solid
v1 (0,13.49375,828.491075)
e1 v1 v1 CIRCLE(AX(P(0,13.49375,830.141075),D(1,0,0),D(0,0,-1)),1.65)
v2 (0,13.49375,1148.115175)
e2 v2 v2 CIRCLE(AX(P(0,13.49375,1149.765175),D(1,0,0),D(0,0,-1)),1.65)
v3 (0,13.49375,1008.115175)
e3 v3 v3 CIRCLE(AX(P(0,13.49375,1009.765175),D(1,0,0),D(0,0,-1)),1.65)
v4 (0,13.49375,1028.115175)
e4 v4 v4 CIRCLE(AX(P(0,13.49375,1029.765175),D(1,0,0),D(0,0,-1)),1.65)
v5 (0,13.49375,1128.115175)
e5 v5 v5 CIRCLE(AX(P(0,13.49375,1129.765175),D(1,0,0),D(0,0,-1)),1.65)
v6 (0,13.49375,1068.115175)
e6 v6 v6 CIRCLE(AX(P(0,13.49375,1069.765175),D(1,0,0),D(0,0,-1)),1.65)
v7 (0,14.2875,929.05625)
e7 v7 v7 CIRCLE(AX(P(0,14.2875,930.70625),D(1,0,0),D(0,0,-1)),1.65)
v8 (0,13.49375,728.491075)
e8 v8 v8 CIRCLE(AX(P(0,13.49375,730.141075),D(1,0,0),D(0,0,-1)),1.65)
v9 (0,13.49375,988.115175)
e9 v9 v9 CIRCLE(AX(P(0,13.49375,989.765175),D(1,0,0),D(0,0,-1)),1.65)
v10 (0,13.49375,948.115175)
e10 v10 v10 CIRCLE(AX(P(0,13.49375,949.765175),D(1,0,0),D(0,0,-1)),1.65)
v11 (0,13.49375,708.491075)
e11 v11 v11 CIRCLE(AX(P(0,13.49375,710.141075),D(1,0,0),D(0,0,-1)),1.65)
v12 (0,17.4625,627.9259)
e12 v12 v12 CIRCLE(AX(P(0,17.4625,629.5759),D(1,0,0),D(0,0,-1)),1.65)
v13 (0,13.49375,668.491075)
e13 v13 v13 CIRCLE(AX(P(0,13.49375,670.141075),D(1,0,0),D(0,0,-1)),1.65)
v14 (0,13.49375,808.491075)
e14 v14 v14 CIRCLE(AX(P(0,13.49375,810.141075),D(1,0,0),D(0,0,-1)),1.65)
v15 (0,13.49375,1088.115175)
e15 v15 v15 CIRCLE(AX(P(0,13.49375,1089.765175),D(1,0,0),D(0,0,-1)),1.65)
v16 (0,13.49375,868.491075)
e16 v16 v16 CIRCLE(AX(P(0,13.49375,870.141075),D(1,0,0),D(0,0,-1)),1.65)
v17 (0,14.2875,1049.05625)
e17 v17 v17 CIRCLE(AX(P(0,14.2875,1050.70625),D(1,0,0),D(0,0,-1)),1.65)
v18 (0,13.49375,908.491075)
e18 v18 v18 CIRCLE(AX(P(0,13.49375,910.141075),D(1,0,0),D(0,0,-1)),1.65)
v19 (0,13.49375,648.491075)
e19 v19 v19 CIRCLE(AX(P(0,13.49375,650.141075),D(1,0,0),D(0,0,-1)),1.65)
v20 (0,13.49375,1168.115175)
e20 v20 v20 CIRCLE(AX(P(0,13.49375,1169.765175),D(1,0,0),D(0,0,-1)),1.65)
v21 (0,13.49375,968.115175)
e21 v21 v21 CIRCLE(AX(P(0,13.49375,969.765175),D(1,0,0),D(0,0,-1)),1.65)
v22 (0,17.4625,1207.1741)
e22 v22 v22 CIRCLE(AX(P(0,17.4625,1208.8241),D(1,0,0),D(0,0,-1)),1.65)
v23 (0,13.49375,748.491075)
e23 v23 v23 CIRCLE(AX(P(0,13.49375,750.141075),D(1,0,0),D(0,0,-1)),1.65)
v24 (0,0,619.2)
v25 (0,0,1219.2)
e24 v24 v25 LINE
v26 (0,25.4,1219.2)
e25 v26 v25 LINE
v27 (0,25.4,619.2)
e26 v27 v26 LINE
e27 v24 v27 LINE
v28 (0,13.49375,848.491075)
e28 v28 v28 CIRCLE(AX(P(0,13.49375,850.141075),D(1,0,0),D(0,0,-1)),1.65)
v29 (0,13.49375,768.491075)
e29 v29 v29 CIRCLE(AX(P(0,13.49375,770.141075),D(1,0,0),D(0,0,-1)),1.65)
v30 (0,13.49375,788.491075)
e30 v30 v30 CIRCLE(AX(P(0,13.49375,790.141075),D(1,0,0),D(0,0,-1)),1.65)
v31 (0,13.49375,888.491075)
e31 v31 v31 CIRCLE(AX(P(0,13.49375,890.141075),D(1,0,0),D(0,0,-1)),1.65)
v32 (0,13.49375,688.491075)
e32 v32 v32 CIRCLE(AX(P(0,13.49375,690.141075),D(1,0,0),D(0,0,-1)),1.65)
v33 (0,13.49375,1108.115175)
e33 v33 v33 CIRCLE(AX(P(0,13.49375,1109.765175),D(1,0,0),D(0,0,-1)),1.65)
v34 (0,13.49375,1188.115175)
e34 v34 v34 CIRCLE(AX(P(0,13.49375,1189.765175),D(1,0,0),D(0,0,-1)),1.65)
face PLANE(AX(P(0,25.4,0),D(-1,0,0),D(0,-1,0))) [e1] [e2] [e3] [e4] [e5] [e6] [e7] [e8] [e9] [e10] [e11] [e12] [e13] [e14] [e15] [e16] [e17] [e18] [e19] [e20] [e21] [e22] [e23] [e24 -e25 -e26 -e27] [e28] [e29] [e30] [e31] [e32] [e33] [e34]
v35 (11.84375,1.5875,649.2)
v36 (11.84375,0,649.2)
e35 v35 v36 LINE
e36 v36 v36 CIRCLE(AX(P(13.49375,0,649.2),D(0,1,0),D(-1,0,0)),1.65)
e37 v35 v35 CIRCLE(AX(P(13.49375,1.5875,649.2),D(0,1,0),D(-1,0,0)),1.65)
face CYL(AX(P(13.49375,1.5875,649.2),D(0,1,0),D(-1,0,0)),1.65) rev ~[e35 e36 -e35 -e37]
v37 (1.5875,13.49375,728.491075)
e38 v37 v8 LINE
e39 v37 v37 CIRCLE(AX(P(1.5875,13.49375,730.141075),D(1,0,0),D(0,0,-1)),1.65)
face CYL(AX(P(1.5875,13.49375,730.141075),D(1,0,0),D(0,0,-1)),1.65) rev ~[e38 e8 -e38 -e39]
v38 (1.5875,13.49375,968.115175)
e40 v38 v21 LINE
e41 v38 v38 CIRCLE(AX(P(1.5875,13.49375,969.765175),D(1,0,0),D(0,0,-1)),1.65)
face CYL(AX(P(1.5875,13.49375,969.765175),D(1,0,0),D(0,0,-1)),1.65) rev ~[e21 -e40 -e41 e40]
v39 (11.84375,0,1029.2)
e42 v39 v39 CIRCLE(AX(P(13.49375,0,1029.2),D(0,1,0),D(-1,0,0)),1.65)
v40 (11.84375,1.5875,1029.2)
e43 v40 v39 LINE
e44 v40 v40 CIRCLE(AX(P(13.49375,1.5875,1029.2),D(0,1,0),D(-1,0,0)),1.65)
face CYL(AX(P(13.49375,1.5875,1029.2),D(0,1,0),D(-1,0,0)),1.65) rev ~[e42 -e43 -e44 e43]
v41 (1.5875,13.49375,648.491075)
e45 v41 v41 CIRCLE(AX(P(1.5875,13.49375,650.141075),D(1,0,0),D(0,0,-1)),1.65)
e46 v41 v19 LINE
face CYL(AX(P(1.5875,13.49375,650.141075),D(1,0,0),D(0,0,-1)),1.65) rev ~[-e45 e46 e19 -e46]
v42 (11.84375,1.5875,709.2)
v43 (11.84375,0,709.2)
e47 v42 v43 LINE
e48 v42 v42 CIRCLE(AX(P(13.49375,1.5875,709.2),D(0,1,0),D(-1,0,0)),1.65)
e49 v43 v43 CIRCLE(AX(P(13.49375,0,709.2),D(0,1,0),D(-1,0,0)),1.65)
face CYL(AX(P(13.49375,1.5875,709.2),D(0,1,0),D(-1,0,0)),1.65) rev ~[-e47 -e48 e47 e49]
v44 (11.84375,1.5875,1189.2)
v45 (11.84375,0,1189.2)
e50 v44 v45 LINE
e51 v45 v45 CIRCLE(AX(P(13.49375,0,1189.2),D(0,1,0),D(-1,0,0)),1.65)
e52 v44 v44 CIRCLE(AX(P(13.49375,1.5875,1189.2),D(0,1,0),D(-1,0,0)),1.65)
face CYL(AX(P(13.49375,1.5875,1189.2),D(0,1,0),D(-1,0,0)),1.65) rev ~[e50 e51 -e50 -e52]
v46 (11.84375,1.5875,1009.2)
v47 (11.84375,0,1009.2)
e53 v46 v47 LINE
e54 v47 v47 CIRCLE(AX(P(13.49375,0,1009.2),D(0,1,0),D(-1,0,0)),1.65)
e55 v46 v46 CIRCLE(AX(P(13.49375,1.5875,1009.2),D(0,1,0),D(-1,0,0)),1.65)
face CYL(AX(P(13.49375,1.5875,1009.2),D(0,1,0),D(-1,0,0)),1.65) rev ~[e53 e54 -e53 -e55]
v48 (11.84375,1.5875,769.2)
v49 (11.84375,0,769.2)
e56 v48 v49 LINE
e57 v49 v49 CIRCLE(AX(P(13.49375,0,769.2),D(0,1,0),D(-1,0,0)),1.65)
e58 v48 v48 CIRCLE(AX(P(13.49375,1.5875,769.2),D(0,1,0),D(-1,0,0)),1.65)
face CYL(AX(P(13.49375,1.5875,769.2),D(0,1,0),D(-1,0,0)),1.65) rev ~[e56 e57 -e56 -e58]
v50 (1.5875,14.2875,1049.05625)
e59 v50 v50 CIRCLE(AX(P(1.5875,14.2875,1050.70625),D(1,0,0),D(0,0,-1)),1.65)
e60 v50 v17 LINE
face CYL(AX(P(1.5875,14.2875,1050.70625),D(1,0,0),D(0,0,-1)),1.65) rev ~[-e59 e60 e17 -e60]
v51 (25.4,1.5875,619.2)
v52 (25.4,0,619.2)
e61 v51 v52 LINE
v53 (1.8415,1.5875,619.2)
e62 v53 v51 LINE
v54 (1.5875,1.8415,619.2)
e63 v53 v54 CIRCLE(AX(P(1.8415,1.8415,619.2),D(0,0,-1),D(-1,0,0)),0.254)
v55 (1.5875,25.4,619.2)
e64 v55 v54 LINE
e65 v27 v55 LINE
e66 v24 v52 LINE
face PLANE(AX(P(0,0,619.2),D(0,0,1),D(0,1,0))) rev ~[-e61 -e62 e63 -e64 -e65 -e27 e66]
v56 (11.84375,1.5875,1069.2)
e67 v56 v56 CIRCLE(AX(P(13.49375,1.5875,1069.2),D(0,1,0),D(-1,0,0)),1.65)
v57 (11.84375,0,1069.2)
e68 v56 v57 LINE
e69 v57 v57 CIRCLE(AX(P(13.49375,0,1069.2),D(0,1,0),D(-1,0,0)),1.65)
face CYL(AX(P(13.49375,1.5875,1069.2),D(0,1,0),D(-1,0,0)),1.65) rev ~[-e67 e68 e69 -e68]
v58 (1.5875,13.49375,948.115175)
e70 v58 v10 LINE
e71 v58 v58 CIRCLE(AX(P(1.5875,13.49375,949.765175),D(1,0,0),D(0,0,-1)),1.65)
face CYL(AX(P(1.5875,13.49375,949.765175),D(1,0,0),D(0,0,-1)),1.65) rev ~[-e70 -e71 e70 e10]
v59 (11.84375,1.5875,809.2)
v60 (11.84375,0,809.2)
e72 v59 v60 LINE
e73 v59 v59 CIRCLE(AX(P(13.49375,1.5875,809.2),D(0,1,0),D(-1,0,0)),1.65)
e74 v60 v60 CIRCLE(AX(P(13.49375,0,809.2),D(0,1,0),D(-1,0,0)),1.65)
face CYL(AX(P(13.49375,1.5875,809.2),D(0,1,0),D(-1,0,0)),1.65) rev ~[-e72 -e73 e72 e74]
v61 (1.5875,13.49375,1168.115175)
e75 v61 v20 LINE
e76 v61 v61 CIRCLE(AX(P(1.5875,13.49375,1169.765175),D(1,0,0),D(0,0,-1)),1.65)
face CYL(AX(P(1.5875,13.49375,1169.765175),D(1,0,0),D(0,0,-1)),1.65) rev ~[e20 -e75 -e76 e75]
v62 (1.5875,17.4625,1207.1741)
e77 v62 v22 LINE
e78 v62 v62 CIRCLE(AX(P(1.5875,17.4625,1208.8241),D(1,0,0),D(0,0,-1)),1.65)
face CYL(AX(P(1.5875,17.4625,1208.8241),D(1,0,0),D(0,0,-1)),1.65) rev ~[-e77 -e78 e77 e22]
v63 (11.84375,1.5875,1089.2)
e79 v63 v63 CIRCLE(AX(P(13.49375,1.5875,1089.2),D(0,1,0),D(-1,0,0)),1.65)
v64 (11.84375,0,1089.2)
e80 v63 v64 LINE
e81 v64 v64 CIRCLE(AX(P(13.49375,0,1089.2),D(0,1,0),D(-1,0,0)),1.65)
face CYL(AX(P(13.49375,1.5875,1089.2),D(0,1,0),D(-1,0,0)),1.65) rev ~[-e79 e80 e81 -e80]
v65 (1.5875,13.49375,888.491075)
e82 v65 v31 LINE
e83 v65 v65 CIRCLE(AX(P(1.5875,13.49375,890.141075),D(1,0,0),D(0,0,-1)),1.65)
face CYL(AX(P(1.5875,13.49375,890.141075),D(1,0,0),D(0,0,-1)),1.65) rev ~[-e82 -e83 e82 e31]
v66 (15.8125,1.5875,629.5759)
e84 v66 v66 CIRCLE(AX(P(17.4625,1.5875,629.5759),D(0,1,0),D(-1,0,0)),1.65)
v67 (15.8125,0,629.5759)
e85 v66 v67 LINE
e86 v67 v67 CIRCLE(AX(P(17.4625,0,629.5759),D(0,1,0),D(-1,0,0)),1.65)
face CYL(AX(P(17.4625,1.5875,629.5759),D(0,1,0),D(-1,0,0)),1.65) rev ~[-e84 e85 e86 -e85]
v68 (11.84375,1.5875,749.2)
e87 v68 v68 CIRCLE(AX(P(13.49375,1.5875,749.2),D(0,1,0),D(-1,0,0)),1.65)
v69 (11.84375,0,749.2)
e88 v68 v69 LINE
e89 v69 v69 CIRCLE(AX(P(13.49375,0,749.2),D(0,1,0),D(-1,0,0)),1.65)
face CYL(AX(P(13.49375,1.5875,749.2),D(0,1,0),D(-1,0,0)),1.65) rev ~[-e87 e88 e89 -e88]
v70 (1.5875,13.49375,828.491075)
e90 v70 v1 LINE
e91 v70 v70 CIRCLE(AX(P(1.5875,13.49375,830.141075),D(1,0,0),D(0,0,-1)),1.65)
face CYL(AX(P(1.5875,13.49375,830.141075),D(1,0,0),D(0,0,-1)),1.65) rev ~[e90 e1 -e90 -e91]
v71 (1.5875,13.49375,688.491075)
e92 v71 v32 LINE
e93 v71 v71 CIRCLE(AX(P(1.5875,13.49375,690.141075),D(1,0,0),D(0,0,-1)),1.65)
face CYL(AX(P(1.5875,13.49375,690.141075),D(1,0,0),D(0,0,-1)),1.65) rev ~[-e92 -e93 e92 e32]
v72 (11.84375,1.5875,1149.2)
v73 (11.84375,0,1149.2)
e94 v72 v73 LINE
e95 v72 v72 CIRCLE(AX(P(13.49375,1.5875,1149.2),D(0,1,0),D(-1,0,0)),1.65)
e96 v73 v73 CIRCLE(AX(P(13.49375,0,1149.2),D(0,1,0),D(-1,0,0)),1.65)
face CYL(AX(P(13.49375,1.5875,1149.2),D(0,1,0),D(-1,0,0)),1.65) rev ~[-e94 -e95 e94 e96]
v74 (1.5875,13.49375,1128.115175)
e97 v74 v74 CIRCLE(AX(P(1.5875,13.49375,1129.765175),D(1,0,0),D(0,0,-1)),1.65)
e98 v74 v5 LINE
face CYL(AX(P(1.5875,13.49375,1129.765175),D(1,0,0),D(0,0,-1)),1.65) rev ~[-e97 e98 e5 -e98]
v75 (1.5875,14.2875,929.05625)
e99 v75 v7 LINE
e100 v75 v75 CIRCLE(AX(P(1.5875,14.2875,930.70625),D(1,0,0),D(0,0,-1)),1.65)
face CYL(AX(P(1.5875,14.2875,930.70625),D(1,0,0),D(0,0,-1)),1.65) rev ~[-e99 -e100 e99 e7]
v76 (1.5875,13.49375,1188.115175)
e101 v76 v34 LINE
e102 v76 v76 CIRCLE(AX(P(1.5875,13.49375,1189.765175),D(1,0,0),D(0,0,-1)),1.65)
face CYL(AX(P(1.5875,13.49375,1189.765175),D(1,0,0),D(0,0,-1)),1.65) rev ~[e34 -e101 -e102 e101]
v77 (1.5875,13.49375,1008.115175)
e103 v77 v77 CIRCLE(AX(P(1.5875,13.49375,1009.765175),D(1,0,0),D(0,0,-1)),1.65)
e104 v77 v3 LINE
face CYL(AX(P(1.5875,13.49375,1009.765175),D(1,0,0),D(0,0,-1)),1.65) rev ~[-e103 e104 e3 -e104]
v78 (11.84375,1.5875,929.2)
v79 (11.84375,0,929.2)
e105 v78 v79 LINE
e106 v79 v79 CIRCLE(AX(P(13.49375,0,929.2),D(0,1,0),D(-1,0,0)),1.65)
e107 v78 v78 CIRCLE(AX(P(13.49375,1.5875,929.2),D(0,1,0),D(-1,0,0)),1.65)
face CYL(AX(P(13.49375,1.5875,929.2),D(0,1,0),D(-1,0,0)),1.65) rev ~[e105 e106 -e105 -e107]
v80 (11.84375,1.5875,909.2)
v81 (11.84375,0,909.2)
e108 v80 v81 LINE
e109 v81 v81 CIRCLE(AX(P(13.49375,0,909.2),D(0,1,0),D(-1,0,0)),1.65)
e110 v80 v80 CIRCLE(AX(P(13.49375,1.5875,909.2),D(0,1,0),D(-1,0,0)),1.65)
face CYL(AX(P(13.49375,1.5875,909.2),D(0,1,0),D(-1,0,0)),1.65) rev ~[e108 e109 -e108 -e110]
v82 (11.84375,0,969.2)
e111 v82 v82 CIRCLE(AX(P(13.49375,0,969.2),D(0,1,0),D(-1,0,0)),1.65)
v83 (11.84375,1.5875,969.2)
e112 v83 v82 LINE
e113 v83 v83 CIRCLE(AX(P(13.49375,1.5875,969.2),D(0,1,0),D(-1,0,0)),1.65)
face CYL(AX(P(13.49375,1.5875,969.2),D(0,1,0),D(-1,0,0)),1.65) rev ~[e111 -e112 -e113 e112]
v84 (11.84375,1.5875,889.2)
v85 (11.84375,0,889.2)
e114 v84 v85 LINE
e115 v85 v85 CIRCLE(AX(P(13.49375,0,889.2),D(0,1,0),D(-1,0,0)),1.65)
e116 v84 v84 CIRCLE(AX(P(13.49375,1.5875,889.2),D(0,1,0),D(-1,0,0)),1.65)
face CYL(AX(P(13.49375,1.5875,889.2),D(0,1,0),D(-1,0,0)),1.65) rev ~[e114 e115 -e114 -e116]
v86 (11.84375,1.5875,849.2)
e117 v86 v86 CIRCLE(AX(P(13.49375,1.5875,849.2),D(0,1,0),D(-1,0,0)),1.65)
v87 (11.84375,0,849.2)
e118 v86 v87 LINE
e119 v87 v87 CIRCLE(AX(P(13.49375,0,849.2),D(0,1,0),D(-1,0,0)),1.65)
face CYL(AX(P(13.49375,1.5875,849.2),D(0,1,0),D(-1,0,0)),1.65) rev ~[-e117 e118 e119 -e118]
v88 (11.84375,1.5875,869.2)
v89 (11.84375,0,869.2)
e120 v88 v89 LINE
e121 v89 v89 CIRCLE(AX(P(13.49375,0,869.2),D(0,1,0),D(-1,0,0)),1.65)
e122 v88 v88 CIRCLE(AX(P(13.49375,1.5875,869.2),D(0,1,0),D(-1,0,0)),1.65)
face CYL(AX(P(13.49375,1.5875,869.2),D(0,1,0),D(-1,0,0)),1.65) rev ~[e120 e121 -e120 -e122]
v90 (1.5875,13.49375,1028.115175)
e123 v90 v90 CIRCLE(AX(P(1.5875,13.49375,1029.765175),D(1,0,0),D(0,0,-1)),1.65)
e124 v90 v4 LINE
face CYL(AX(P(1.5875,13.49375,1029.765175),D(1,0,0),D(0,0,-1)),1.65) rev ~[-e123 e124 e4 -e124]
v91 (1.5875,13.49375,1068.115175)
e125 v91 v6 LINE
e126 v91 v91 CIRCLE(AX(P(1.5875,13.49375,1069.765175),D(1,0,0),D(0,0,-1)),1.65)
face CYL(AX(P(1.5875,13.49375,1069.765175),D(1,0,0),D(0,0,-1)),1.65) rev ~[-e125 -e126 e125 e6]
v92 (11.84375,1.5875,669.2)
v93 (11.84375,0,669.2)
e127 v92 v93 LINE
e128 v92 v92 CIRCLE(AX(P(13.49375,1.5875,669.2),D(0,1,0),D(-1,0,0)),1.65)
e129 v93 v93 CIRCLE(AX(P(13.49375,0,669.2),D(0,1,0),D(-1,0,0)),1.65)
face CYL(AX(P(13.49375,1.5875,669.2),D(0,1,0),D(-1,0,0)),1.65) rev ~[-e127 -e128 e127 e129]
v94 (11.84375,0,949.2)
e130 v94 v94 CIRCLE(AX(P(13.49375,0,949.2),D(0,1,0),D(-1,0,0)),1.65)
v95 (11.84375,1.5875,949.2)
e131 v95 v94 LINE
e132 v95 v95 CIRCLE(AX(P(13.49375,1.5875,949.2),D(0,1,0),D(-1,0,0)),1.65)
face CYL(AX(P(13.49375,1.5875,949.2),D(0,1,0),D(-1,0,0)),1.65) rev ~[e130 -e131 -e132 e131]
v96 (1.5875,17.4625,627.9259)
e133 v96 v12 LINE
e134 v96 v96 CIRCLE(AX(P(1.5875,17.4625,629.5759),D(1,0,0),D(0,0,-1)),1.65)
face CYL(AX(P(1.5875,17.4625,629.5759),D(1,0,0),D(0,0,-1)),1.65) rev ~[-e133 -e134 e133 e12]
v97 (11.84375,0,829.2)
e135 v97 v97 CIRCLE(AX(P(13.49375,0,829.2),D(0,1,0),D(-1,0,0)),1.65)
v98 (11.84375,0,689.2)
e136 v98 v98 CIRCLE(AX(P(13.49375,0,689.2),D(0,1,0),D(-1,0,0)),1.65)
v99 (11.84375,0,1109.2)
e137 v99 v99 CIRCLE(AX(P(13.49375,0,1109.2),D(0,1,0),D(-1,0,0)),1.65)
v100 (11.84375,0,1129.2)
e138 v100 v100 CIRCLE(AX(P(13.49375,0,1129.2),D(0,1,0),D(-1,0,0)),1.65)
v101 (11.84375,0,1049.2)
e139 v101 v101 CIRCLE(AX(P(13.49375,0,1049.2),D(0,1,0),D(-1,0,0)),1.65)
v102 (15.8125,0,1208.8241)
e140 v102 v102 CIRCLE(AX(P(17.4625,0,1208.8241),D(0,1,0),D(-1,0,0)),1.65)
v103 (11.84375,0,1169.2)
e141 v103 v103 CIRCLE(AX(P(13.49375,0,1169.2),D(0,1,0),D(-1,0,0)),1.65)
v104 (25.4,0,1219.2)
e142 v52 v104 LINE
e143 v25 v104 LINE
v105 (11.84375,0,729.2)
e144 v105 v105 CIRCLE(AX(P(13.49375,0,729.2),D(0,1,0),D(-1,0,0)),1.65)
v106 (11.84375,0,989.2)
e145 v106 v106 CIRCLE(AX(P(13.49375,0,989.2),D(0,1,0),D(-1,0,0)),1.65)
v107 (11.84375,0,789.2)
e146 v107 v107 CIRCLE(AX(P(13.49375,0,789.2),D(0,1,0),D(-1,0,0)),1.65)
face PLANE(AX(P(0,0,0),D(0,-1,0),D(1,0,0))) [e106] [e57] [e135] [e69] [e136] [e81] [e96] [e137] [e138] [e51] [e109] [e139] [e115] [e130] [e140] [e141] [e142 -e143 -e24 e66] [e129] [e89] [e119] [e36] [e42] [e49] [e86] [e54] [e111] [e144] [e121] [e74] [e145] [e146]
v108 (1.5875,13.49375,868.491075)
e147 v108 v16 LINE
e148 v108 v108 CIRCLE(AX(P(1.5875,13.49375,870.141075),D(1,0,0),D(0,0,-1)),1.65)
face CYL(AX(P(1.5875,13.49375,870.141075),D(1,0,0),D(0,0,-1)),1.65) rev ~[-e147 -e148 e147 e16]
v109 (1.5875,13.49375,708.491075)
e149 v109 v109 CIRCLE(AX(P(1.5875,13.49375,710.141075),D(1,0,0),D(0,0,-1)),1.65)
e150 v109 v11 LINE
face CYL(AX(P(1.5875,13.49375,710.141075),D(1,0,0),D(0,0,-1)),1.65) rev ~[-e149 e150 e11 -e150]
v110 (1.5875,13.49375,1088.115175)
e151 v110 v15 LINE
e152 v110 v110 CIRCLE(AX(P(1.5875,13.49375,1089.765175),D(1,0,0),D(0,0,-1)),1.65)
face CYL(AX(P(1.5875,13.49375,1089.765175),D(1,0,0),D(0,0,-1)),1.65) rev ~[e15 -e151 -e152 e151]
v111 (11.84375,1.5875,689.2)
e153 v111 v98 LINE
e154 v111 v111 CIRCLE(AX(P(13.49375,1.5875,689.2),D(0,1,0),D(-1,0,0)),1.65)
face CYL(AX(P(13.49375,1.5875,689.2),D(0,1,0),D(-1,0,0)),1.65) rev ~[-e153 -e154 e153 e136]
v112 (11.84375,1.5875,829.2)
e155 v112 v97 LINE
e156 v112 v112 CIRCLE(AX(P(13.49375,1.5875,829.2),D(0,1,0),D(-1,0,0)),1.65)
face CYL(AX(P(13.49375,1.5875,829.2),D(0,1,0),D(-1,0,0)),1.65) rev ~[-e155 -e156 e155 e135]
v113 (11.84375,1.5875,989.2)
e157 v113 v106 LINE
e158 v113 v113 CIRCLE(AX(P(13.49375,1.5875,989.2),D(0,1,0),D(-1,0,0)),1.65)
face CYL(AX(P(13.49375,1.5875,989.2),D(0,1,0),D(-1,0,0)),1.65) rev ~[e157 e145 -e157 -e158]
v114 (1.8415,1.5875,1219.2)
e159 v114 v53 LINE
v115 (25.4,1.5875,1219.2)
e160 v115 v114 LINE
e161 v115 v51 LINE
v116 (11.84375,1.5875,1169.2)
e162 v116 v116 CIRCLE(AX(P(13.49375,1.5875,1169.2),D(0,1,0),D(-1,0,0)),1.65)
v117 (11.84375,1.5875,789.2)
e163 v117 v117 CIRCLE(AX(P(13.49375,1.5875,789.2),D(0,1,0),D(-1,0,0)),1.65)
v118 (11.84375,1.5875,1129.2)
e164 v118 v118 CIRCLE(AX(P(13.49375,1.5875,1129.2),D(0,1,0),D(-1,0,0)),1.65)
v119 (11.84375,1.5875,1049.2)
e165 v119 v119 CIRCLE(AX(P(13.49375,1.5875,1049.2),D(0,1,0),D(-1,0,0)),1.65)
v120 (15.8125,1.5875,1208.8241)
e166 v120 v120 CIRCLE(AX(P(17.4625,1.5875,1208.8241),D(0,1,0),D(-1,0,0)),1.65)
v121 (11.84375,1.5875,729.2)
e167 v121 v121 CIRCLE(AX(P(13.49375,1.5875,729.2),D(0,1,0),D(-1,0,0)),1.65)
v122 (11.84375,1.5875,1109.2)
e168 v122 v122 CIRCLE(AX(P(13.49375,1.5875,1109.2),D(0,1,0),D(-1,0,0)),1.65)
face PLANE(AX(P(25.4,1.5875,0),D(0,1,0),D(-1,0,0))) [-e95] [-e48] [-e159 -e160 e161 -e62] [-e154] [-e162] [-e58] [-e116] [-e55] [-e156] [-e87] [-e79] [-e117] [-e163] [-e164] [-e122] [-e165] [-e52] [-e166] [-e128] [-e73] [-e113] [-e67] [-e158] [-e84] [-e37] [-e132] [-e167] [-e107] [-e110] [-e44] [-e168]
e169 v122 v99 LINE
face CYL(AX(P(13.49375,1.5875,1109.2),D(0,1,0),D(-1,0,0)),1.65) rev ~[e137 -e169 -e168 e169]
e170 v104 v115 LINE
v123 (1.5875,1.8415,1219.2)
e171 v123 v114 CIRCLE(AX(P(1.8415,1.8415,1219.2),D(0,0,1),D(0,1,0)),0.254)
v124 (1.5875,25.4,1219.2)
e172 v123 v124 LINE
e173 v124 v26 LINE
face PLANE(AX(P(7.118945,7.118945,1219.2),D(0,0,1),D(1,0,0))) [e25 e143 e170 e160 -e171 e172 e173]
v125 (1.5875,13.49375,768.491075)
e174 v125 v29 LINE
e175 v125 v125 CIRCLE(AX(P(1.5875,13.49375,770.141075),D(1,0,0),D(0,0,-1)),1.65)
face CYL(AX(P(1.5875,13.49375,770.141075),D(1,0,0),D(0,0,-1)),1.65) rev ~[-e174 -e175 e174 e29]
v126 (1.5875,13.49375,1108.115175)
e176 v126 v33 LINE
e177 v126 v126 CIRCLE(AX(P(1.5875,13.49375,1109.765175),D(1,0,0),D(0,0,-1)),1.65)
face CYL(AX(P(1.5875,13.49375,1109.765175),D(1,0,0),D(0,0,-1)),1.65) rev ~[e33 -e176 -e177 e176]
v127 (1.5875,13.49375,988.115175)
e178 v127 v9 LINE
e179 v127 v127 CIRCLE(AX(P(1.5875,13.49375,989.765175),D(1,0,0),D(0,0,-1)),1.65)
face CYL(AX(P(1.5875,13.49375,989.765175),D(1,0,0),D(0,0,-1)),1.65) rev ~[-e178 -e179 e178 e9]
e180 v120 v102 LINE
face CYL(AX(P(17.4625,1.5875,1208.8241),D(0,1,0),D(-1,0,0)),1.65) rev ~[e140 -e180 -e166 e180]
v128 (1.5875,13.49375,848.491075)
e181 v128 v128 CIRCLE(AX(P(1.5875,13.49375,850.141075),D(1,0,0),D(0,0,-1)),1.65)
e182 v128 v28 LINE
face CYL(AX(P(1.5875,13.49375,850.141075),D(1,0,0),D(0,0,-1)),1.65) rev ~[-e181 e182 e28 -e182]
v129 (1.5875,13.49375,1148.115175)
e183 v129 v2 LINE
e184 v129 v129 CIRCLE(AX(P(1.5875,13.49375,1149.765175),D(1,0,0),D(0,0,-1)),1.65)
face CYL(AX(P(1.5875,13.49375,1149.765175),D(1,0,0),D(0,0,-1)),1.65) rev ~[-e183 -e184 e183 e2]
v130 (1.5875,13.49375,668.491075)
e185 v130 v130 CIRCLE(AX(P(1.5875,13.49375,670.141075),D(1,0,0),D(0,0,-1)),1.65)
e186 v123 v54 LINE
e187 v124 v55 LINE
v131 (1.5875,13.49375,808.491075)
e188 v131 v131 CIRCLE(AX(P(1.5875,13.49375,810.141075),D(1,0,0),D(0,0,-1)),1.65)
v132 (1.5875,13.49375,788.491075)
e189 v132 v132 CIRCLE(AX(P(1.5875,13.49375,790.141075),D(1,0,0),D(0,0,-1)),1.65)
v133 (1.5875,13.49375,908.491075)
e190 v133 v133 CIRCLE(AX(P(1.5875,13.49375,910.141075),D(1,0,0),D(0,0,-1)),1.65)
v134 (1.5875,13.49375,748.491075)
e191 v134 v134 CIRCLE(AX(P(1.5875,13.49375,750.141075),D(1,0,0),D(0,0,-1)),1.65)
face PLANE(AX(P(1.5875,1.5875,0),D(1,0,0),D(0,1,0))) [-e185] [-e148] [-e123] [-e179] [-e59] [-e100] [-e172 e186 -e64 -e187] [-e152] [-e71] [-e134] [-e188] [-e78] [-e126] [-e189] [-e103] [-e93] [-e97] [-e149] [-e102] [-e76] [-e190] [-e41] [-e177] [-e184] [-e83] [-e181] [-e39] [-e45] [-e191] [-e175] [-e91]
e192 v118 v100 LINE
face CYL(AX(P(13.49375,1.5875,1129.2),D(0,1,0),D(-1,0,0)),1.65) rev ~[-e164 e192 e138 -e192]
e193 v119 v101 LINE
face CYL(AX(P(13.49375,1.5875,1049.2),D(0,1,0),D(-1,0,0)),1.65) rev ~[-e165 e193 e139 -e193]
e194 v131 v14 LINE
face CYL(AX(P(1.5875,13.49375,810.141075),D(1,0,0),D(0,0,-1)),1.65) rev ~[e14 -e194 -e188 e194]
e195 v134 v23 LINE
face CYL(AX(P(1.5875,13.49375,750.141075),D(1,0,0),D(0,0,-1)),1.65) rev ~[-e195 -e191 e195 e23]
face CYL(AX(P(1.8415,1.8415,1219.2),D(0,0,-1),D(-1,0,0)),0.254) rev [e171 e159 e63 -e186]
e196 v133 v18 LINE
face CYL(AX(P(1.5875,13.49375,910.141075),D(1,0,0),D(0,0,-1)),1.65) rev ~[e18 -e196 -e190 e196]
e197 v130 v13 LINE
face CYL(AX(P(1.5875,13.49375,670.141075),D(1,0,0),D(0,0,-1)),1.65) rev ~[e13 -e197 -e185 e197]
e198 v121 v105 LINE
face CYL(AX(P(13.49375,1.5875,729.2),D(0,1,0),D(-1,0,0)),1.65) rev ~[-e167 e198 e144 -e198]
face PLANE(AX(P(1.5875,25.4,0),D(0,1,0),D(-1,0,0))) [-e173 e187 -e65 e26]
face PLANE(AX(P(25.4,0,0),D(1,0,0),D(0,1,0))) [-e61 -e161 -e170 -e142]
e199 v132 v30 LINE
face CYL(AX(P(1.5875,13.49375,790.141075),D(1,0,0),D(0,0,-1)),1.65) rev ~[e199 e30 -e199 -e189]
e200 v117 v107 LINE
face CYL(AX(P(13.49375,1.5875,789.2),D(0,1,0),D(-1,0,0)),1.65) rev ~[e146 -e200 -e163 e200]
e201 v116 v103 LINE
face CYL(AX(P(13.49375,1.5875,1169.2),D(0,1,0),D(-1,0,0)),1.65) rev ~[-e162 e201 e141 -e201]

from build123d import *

# Parameters (mm, degrees)
BOSS_EXTRUDE1_DEPTH = 1219.2
FILLET1_R           = 0.254
SKETCH4_W           = 1838.4
SKETCH4_H           = 74.945320812
CUT_EXTRUDE1_DEPTH  = 60
SKETCH5_R           = 1.65
CUT_EXTRUDE2_DEPTH  = 10
SKETCH9_R           = 1.65
CUT_EXTRUDE6_DEPTH  = 60


with BuildPart() as part:
    # Sketch3 → Boss-Extrude1 (new, symmetric)
    with BuildSketch(Plane.XY):
        Polygon((1.5875, 25.4), (0, 25.4), (0, 0), (25.4, 0), (25.4, 1.5875), (1.5875, 1.5875), align=None)
    extrude(amount=BOSS_EXTRUDE1_DEPTH, both=True)

    # Fillet1
    fillet1_edges = [part.edges().sort_by_distance(p)[0] for p in [
        (1.5875, 1.5875, 0),
    ]]
    fillet(fillet1_edges, radius=FILLET1_R)

    # Sketch4 → Cut-Extrude1 (cut)
    with BuildSketch(Plane.ZY):
        with Locations((-300, 37.472660406)):
            Rectangle(SKETCH4_W, SKETCH4_H)
    extrude(amount=-CUT_EXTRUDE1_DEPTH, mode=Mode.SUBTRACT)

    # Sketch5 → Cut-Extrude2 (cut)
    with BuildSketch(Plane(origin=(0, 1.5875, 0), x_dir=(1, 0, 0), z_dir=(0, 1, 0))):
        with Locations(Location((17.4625, -629.5759, 0), (0, 0, 180))):
            Circle(SKETCH5_R)
        with Locations(Location((17.4625, -1208.8241, 0), (0, 0, 180))):
            Circle(SKETCH5_R)
        with Locations(Location((13.49375, -1189.2, 0), (0, 0, 180))):
            Circle(SKETCH5_R)
        with Locations(Location((13.49375, -1169.2, 0), (0, 0, 180))):
            Circle(SKETCH5_R)
        with Locations(Location((13.49375, -1149.2, 0), (0, 0, 180))):
            Circle(SKETCH5_R)
        with Locations(Location((13.49375, -1129.2, 0), (0, 0, 180))):
            Circle(SKETCH5_R)
        with Locations(Location((13.49375, -1109.2, 0), (0, 0, 180))):
            Circle(SKETCH5_R)
        with Locations(Location((13.49375, -1089.2, 0), (0, 0, 180))):
            Circle(SKETCH5_R)
        with Locations(Location((13.49375, -1069.2, 0), (0, 0, 180))):
            Circle(SKETCH5_R)
        with Locations(Location((13.49375, -1049.2, 0), (0, 0, 180))):
            Circle(SKETCH5_R)
        with Locations(Location((13.49375, -1029.2, 0), (0, 0, 180))):
            Circle(SKETCH5_R)
        with Locations(Location((13.49375, -1009.2, 0), (0, 0, 180))):
            Circle(SKETCH5_R)
        with Locations(Location((13.49375, -989.2, 0), (0, 0, 180))):
            Circle(SKETCH5_R)
        with Locations(Location((13.49375, -969.2, 0), (0, 0, 180))):
            Circle(SKETCH5_R)
        with Locations(Location((13.49375, -949.2, 0), (0, 0, 180))):
            Circle(SKETCH5_R)
        with Locations(Location((13.49375, -929.2, 0), (0, 0, 180))):
            Circle(SKETCH5_R)
        with Locations(Location((13.49375, -909.2, 0), (0, 0, 180))):
            Circle(SKETCH5_R)
        with Locations(Location((13.49375, -889.2, 0), (0, 0, 180))):
            Circle(SKETCH5_R)
        with Locations(Location((13.49375, -869.2, 0), (0, 0, 180))):
            Circle(SKETCH5_R)
        with Locations(Location((13.49375, -849.2, 0), (0, 0, 180))):
            Circle(SKETCH5_R)
        with Locations(Location((13.49375, -829.2, 0), (0, 0, 180))):
            Circle(SKETCH5_R)
        with Locations(Location((13.49375, -809.2, 0), (0, 0, 180))):
            Circle(SKETCH5_R)
        with Locations(Location((13.49375, -789.2, 0), (0, 0, 180))):
            Circle(SKETCH5_R)
        with Locations(Location((13.49375, -769.2, 0), (0, 0, 180))):
            Circle(SKETCH5_R)
        with Locations(Location((13.49375, -749.2, 0), (0, 0, 180))):
            Circle(SKETCH5_R)
        with Locations(Location((13.49375, -729.2, 0), (0, 0, 180))):
            Circle(SKETCH5_R)
        with Locations(Location((13.49375, -709.2, 0), (0, 0, 180))):
            Circle(SKETCH5_R)
        with Locations(Location((13.49375, -689.2, 0), (0, 0, 180))):
            Circle(SKETCH5_R)
        with Locations(Location((13.49375, -669.2, 0), (0, 0, 180))):
            Circle(SKETCH5_R)
        with Locations(Location((13.49375, -649.2, 0), (0, 0, 180))):
            Circle(SKETCH5_R)
    extrude(amount=-CUT_EXTRUDE2_DEPTH, mode=Mode.SUBTRACT)

    # Sketch9 → Cut-Extrude6 (cut)
    with BuildSketch(Plane(origin=(1.5875, 0, 0), x_dir=(0, 0, -1), z_dir=(1, 0, 0))):
        with Locations((-629.5759, 17.4625)):
            Circle(SKETCH9_R)
        with Locations((-1208.8241, 17.4625)):
            Circle(SKETCH9_R)
        with Locations((-1050.70625, 14.2875)):
            Circle(SKETCH9_R)
        with Locations((-930.70625, 14.2875)):
            Circle(SKETCH9_R)
        with Locations((-1189.765175, 13.49375)):
            Circle(SKETCH9_R)
        with Locations((-1169.765175, 13.49375)):
            Circle(SKETCH9_R)
        with Locations((-1149.765175, 13.49375)):
            Circle(SKETCH9_R)
        with Locations((-1129.765175, 13.49375)):
            Circle(SKETCH9_R)
        with Locations((-1109.765175, 13.49375)):
            Circle(SKETCH9_R)
        with Locations((-1089.765175, 13.49375)):
            Circle(SKETCH9_R)
        with Locations((-1069.765175, 13.49375)):
            Circle(SKETCH9_R)
        with Locations((-1029.765175, 13.49375)):
            Circle(SKETCH9_R)
        with Locations((-1009.765175, 13.49375)):
            Circle(SKETCH9_R)
        with Locations((-989.765175, 13.49375)):
            Circle(SKETCH9_R)
        with Locations((-969.765175, 13.49375)):
            Circle(SKETCH9_R)
        with Locations((-949.765175, 13.49375)):
            Circle(SKETCH9_R)
        with Locations((-650.141075, 13.49375)):
            Circle(SKETCH9_R)
        with Locations((-670.141075, 13.49375)):
            Circle(SKETCH9_R)
        with Locations((-690.141075, 13.49375)):
            Circle(SKETCH9_R)
        with Locations((-710.141075, 13.49375)):
            Circle(SKETCH9_R)
        with Locations((-730.141075, 13.49375)):
            Circle(SKETCH9_R)
        with Locations((-750.141075, 13.49375)):
            Circle(SKETCH9_R)
        with Locations((-770.141075, 13.49375)):
            Circle(SKETCH9_R)
        with Locations((-790.141075, 13.49375)):
            Circle(SKETCH9_R)
        with Locations((-810.141075, 13.49375)):
            Circle(SKETCH9_R)
        with Locations((-830.141075, 13.49375)):
            Circle(SKETCH9_R)
        with Locations((-850.141075, 13.49375)):
            Circle(SKETCH9_R)
        with Locations((-870.141075, 13.49375)):
            Circle(SKETCH9_R)
        with Locations((-890.141075, 13.49375)):
            Circle(SKETCH9_R)
        with Locations((-910.141075, 13.49375)):
            Circle(SKETCH9_R)
    extrude(amount=-CUT_EXTRUDE6_DEPTH, mode=Mode.SUBTRACT)


solid = part.part
